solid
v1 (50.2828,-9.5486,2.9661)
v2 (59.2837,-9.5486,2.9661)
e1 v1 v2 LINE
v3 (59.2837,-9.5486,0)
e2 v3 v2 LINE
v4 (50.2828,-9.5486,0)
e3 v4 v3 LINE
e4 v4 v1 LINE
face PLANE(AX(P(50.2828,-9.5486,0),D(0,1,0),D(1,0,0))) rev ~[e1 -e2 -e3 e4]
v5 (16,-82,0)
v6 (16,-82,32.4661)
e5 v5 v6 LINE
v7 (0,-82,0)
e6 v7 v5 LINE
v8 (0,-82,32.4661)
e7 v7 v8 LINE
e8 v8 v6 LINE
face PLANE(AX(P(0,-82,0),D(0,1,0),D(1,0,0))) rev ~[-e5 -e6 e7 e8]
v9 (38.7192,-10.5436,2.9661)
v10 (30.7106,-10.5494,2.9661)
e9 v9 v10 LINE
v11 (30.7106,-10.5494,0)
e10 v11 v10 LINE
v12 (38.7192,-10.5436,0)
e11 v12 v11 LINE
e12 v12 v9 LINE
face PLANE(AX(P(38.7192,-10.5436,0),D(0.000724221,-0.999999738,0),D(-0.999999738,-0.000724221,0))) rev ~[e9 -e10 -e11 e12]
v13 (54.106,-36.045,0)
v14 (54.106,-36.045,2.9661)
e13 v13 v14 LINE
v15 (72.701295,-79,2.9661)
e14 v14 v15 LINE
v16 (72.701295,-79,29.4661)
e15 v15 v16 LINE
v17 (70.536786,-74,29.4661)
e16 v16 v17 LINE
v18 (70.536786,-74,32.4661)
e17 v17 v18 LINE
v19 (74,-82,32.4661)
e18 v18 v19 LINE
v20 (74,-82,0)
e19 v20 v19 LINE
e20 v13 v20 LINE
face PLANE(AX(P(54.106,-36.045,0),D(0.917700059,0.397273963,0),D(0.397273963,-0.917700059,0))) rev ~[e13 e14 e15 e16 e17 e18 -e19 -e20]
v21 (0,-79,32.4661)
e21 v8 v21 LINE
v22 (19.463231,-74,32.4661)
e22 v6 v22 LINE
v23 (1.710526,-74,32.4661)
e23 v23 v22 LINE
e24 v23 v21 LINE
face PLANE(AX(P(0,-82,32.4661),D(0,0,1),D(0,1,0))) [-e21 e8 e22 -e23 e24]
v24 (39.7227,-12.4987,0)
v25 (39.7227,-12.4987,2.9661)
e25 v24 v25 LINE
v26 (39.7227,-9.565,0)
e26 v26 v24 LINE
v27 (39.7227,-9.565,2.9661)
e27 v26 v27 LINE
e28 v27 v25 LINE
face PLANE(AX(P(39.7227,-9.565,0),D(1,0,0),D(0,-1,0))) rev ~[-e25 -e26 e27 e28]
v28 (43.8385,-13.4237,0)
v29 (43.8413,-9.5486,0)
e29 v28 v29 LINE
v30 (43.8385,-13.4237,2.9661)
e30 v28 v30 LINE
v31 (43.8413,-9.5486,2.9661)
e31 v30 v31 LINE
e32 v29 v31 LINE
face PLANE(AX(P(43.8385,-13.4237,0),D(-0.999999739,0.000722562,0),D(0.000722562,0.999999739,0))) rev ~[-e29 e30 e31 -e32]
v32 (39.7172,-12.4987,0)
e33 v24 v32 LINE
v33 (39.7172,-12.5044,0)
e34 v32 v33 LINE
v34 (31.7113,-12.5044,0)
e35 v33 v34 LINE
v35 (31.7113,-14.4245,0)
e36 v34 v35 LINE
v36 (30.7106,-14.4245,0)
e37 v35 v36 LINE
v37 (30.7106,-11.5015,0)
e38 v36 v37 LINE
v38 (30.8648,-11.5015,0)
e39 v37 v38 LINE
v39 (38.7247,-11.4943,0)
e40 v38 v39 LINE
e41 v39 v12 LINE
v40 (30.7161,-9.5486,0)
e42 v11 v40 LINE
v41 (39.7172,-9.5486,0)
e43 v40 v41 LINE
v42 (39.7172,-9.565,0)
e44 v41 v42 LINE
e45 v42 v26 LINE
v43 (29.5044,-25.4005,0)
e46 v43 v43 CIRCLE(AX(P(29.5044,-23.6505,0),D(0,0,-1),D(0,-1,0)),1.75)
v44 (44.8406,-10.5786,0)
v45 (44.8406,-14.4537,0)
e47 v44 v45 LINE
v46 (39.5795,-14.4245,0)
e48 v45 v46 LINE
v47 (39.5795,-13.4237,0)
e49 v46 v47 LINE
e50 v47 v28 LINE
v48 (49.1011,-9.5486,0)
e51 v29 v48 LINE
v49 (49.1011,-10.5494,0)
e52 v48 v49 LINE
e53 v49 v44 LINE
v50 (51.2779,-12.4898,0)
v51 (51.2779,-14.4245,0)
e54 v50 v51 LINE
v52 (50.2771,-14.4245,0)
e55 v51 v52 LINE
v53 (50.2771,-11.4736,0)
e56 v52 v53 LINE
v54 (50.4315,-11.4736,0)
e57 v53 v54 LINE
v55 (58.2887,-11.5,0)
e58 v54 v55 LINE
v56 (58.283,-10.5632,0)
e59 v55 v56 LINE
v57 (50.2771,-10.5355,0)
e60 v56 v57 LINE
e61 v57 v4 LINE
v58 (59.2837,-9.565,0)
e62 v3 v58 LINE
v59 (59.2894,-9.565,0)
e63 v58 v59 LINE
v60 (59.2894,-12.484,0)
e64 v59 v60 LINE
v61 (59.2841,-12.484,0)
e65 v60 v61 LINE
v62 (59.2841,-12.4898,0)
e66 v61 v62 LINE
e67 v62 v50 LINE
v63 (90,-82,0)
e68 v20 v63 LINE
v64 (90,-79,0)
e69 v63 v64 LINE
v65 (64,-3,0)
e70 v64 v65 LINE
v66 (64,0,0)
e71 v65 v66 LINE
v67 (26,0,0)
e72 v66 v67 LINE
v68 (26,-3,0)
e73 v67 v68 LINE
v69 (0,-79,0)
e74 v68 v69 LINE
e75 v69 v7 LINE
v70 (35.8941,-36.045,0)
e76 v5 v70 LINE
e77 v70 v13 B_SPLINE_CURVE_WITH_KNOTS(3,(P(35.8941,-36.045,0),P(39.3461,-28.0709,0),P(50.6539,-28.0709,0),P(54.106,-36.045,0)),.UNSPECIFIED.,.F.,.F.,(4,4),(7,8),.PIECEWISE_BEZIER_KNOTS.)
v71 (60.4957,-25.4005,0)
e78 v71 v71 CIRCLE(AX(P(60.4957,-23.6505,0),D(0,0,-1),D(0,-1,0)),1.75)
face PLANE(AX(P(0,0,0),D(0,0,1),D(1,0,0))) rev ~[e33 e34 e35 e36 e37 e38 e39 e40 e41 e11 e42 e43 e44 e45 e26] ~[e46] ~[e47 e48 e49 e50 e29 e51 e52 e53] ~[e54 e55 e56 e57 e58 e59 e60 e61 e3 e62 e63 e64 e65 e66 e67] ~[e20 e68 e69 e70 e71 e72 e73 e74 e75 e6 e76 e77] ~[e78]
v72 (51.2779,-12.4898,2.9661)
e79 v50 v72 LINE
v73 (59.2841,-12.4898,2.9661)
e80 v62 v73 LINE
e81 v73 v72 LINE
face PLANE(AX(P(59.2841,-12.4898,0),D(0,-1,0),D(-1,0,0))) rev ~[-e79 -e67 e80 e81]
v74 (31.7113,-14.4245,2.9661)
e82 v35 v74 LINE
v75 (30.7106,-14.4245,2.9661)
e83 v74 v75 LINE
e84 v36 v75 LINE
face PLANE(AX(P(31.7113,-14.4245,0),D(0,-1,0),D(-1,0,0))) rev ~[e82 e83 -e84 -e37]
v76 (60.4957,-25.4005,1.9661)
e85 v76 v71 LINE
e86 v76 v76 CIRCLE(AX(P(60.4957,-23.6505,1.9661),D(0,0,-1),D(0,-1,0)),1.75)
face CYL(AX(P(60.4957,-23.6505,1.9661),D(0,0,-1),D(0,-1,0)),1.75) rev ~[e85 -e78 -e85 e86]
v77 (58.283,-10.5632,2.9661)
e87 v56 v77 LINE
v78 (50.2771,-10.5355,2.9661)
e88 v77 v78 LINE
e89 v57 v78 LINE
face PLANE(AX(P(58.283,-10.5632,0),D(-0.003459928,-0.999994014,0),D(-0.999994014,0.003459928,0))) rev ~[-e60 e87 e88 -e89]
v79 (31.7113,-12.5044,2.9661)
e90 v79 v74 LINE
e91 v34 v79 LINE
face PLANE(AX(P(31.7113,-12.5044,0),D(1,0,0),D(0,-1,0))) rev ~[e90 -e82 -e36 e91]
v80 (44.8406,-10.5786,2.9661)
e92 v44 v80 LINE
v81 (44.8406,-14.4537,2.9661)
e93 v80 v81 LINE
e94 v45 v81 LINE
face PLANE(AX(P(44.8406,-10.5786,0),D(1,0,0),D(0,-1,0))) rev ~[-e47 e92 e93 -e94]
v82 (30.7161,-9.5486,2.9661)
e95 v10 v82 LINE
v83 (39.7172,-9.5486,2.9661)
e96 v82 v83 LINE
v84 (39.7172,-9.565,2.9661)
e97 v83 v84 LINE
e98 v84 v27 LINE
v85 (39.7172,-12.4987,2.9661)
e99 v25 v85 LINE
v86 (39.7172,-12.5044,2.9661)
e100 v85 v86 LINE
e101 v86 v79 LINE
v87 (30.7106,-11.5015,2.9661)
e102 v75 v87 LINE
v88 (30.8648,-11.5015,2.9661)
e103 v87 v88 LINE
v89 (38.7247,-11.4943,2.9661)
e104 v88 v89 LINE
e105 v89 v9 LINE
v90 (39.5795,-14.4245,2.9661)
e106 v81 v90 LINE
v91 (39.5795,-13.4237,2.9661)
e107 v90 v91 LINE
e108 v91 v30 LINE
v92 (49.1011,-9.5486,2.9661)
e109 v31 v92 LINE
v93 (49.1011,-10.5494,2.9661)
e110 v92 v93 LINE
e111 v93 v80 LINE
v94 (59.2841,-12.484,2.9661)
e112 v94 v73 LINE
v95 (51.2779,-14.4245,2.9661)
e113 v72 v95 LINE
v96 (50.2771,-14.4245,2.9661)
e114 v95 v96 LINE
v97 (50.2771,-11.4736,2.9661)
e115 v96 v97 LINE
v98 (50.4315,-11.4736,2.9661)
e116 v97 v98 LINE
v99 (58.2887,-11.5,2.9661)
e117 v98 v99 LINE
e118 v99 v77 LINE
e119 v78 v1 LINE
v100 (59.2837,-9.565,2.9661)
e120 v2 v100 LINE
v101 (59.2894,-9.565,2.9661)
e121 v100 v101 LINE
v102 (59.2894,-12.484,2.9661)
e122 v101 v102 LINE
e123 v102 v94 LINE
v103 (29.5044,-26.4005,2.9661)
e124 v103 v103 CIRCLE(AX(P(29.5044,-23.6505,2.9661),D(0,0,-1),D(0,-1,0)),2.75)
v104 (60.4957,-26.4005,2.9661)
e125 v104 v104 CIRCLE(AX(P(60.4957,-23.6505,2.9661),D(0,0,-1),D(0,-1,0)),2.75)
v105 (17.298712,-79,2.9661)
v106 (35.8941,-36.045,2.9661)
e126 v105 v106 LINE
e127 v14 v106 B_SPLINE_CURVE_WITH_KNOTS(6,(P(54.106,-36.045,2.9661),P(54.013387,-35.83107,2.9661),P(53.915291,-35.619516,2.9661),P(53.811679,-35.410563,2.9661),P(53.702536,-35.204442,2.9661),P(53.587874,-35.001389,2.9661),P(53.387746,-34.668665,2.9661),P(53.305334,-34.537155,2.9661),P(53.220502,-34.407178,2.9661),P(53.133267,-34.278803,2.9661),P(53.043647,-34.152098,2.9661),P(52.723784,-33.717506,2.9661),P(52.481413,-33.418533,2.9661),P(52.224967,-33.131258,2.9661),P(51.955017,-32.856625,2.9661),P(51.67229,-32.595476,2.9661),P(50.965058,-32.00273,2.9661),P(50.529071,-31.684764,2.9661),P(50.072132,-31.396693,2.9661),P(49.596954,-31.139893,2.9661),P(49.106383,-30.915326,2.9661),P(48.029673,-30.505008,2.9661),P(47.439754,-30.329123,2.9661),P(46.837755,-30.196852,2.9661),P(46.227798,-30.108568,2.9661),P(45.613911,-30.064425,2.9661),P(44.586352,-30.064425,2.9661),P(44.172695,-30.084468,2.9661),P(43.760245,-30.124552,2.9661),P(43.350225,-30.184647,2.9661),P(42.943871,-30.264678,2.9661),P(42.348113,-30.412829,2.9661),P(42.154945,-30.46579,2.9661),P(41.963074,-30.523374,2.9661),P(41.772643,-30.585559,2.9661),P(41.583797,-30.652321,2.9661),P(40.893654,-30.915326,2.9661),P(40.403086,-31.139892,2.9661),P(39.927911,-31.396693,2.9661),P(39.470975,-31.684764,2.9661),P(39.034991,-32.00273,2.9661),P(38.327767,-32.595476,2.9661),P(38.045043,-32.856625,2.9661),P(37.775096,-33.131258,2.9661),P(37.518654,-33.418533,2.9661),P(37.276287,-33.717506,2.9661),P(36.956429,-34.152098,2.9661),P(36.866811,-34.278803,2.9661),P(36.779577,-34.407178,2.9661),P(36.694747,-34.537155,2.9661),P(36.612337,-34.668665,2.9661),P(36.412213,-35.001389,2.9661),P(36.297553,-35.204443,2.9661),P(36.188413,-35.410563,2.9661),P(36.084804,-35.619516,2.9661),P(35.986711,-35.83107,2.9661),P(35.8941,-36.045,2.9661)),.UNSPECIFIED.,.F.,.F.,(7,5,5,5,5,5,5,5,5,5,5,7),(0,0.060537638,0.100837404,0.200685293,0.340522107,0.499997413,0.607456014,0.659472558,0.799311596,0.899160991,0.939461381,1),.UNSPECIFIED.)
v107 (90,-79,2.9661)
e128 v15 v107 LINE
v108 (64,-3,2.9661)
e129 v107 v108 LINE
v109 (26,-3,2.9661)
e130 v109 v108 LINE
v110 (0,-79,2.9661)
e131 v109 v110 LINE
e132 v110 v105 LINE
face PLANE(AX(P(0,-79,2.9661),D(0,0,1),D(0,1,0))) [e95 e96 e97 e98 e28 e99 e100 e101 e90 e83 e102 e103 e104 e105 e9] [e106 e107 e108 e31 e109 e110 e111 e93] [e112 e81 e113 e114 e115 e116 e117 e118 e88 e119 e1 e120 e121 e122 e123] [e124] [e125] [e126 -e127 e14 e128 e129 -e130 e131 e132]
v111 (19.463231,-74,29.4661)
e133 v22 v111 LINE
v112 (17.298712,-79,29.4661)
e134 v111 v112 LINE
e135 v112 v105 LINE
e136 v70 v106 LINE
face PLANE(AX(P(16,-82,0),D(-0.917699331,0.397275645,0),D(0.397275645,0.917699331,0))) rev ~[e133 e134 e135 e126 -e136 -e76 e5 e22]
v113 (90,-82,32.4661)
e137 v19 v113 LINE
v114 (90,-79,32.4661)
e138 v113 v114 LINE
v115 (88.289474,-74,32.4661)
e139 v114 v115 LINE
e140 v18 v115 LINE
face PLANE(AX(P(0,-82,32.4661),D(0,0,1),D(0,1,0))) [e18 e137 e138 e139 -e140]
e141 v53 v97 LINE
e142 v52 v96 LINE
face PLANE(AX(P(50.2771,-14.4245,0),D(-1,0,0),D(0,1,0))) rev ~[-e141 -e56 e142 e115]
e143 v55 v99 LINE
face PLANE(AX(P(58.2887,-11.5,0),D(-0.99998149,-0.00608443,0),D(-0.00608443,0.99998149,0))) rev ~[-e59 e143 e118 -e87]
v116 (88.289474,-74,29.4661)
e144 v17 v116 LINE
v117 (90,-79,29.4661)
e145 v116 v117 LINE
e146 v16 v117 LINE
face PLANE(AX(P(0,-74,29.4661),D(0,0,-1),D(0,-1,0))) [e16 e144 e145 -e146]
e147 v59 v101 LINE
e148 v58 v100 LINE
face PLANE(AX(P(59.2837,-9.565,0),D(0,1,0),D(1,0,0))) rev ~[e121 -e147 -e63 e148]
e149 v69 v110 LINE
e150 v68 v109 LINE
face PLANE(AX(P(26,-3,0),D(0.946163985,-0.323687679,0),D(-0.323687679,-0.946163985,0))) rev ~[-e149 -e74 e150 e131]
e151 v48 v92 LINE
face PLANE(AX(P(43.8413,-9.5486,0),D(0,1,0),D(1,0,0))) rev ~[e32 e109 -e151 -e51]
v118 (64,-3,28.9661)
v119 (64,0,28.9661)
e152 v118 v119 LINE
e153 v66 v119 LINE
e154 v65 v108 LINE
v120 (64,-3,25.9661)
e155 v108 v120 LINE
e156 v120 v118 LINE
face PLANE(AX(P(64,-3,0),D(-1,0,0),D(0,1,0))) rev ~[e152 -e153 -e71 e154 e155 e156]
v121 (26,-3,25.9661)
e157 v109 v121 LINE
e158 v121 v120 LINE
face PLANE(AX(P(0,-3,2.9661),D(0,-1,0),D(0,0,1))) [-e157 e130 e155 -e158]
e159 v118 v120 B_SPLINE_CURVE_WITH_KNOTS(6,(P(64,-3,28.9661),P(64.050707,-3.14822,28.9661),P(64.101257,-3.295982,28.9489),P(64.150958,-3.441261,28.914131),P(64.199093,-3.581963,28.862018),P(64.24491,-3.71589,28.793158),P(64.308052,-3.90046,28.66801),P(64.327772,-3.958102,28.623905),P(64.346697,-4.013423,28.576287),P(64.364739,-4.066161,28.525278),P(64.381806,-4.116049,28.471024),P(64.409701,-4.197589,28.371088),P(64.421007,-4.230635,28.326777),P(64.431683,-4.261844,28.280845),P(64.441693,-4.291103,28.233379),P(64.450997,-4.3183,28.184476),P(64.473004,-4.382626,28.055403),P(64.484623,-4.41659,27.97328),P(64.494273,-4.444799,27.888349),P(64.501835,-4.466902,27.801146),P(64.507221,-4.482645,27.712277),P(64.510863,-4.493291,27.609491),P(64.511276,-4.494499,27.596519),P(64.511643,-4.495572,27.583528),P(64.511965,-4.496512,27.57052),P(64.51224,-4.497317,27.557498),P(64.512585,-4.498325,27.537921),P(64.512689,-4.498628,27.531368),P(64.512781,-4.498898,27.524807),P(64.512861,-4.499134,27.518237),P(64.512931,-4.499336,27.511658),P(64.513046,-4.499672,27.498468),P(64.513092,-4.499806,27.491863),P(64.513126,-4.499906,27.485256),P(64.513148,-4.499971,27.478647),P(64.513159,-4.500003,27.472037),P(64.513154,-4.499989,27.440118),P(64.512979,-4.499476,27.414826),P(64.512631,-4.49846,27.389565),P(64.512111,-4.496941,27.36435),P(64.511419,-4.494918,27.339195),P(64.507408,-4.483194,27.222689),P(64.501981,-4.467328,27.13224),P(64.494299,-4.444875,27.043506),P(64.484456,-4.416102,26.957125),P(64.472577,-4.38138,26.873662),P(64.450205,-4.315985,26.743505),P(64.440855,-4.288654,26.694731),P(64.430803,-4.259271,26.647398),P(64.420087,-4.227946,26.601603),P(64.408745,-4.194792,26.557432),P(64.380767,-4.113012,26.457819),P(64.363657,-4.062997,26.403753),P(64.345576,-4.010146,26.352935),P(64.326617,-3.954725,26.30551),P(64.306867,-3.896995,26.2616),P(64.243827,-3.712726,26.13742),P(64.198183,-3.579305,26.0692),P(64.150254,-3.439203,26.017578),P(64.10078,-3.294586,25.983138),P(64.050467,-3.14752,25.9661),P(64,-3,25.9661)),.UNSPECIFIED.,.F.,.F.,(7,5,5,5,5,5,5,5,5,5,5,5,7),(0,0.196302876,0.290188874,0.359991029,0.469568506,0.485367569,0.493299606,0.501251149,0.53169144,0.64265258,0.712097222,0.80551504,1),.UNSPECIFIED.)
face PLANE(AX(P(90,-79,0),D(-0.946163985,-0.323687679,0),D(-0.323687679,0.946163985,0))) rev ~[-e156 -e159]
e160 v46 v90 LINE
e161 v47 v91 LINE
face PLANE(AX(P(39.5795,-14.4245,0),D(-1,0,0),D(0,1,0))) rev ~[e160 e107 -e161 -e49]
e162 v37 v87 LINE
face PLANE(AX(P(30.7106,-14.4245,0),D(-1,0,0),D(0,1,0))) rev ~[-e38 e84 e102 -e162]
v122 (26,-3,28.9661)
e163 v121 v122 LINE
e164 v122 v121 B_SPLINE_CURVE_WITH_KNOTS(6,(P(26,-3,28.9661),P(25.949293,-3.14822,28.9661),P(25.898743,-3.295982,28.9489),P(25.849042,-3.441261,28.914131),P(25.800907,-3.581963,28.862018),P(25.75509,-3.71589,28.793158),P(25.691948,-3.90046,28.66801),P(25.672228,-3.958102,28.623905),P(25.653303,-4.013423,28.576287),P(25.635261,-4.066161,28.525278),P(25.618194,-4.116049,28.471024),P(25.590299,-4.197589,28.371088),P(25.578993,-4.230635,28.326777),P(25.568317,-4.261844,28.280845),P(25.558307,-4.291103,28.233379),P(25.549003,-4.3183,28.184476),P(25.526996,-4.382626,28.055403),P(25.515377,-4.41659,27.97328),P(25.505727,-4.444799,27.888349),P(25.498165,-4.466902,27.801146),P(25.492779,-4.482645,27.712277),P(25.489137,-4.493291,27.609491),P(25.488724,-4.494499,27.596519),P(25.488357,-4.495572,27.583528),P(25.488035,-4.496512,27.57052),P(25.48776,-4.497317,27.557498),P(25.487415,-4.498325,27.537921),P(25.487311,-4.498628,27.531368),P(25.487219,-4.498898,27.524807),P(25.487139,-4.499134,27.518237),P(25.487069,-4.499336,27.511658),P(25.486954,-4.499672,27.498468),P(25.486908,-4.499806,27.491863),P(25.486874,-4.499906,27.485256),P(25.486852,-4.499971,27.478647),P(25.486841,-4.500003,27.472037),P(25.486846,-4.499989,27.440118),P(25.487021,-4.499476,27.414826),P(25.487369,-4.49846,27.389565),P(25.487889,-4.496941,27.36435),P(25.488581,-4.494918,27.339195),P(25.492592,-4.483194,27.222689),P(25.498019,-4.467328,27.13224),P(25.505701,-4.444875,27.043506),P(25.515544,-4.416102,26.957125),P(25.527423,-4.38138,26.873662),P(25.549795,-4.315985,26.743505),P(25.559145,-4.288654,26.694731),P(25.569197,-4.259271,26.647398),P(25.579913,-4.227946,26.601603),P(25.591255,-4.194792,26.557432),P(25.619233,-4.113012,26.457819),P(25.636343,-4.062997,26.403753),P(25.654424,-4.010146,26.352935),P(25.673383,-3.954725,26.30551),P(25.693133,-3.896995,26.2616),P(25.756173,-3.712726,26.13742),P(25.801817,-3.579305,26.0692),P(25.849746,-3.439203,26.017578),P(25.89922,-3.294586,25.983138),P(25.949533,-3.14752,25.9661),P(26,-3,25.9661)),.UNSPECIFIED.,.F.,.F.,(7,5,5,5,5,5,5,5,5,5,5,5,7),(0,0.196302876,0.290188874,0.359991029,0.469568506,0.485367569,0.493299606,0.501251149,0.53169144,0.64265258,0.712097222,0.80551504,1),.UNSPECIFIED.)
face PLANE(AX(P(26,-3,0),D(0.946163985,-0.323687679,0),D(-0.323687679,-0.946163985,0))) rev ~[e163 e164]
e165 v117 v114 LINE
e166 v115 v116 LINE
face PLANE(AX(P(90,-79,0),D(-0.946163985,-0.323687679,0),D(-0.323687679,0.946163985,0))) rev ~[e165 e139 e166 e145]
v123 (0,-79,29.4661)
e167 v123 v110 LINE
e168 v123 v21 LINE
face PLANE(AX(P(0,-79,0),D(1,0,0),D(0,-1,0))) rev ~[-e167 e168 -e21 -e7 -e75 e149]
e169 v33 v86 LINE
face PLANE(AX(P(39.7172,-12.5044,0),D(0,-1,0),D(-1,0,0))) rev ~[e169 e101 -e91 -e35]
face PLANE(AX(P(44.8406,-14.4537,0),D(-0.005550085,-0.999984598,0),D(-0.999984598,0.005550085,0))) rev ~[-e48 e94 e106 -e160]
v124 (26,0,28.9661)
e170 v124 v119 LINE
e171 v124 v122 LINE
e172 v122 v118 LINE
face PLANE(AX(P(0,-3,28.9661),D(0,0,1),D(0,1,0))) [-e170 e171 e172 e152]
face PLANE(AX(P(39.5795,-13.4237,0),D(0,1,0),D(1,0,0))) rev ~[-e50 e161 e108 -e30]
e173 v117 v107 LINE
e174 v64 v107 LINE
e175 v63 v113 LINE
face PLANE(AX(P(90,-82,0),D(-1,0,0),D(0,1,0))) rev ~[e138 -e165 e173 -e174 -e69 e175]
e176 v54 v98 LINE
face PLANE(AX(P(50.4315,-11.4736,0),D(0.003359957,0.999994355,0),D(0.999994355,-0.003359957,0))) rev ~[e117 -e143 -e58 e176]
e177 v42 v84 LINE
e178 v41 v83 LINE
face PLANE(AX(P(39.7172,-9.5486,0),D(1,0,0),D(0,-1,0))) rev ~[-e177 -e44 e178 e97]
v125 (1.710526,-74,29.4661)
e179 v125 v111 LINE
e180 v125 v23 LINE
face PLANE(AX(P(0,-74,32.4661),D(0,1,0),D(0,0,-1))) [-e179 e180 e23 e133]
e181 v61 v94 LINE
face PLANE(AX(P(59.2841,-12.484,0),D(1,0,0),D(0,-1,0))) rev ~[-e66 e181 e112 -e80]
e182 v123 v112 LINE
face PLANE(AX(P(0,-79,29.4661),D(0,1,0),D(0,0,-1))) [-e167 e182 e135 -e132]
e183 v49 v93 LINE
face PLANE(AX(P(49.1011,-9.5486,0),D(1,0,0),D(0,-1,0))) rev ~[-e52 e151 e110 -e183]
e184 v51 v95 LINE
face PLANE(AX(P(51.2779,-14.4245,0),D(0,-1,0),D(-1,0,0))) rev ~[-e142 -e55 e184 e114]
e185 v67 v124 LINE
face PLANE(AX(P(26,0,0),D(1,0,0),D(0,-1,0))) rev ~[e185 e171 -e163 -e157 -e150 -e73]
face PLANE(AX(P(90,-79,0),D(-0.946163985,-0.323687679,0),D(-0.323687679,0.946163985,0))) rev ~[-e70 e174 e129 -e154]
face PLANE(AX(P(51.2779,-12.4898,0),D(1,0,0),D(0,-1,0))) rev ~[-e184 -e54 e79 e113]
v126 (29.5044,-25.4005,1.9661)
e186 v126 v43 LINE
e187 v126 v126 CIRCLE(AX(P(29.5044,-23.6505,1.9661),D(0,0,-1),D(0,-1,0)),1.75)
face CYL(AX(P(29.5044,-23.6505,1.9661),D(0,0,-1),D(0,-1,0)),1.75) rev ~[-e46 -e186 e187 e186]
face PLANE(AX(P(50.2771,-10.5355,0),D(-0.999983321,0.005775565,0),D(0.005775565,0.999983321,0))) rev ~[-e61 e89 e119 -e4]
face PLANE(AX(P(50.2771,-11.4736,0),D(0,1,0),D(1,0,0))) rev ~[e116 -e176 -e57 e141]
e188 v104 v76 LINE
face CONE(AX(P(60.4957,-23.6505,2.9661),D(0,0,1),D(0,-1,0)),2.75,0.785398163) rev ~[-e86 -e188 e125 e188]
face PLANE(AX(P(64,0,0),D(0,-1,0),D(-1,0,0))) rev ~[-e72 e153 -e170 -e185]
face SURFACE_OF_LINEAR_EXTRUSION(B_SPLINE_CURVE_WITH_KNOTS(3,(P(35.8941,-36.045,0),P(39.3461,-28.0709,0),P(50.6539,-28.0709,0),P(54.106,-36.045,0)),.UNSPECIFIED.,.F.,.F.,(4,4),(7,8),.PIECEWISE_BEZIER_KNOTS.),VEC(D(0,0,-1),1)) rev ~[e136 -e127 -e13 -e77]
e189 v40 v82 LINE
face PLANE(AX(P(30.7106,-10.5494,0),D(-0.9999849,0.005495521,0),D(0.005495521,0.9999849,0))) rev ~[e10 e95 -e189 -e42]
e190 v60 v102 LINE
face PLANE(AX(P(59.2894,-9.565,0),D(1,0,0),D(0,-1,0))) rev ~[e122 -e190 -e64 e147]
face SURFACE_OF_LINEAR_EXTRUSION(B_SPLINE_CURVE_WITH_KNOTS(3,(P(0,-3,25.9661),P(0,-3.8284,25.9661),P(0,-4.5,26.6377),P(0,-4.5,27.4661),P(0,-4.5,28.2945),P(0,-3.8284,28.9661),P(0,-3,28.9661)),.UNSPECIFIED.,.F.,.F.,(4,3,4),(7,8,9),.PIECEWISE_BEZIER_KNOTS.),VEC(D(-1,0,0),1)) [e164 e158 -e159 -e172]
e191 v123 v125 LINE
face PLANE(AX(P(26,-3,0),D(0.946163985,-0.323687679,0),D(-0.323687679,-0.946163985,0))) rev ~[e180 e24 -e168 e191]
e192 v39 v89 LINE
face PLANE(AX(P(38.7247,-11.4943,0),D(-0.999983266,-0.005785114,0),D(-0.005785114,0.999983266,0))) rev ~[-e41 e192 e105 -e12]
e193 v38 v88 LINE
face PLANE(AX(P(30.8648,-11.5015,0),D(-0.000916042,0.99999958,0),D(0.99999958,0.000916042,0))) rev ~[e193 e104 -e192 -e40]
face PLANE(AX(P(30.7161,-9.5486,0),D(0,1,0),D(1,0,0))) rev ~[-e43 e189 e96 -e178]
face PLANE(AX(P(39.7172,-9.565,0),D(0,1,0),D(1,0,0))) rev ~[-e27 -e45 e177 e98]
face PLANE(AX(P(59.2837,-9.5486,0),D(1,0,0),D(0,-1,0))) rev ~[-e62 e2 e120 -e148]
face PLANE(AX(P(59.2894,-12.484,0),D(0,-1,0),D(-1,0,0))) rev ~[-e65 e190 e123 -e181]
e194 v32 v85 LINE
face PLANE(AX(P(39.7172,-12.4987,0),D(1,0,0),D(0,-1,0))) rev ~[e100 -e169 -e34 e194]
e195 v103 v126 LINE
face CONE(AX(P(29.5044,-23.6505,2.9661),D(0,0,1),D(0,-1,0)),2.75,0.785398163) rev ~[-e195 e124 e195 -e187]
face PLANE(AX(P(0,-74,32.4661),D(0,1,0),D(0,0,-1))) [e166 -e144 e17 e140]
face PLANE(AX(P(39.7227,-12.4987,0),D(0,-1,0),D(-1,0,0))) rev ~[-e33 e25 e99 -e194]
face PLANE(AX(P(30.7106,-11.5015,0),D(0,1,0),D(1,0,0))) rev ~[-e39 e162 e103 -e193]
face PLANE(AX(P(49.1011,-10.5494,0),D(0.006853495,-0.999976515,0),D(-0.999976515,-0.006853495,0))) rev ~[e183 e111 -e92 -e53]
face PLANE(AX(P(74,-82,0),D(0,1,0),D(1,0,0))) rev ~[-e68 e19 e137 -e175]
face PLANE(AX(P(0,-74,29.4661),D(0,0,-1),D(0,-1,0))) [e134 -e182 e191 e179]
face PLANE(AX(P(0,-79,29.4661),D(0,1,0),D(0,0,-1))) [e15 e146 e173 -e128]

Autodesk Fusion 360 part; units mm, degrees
sketch "Top" plane through (0, 0, 0) normal (0, 0, 1) x (1, 0, 0)
  line L0 (59.2894, -12.484) -> (59.2841, -12.484)
  line L1 (59.2841, -12.484) -> (59.2841, -12.4898)
  line L2 (59.2841, -12.4898) -> (51.2779, -12.4898)
  line L3 (51.2779, -12.4898) -> (51.2779, -14.4245)
  line L4 (51.2779, -14.4245) -> (50.2771, -14.4245)
  line L5 (50.2771, -14.4245) -> (50.2771, -11.4736)
  line L6 (50.2771, -11.4736) -> (50.4315, -11.4736)
  line L7 (50.4315, -11.4736) -> (50.4315, -11.4723)
  line L8 (50.4315, -11.4723) -> (58.2887, -11.5)
  line L9 (58.2887, -11.5) -> (58.283, -10.5632)
  line L10 (58.283, -10.5632) -> (50.2771, -10.5355)
  line L11 (50.2771, -10.5355) -> (50.2828, -9.5486)
  line L12 (50.2828, -9.5486) -> (59.2837, -9.5486)
  line L13 (59.2837, -9.5486) -> (59.2837, -9.565)
  line L14 (59.2837, -9.565) -> (59.2894, -9.565)
  line L15 (59.2894, -9.565) -> (59.2894, -12.484)
  line L16 (49.1011, -10.5494) -> (44.8406, -10.5786)
  line L17 (44.8406, -10.5786) -> (44.8406, -14.4537)
  line L18 (44.8406, -14.4537) -> (39.5795, -14.4245)
  line L19 (39.5795, -14.4245) -> (39.5795, -13.4237)
  line L20 (39.5795, -13.4237) -> (43.8385, -13.4237)
  line L21 (43.8385, -13.4237) -> (43.8413, -9.5486)
  line L22 (43.8413, -9.5486) -> (49.1011, -9.5486)
  line L23 (49.1011, -9.5486) -> (49.1011, -10.5494)
  line L24 (31.7113, -12.5044) -> (31.7113, -14.4245)
  line L25 (31.7113, -14.4245) -> (30.7106, -14.4245)
  line L26 (30.7106, -14.4245) -> (30.7106, -11.5015)
  line L27 (30.7106, -11.5015) -> (30.8648, -11.5015)
  line L28 (30.8648, -11.5015) -> (30.8648, -11.5001)
  line L29 (30.8648, -11.5001) -> (38.7247, -11.4943)
  line L30 (38.7247, -11.4943) -> (38.7192, -10.5436)
  line L31 (38.7192, -10.5436) -> (30.7106, -10.5494)
  line L32 (30.7106, -10.5494) -> (30.7161, -9.5486)
  line L33 (30.7161, -9.5486) -> (39.7172, -9.5486)
  line L34 (39.7172, -9.5486) -> (39.7172, -9.565)
  line L35 (39.7172, -9.565) -> (39.7227, -9.565)
  line L36 (39.7227, -9.565) -> (39.7227, -12.4987)
  line L37 (39.7227, -12.4987) -> (39.7172, -12.4987)
  line L38 (39.7172, -12.4987) -> (39.7172, -12.5044)
  line L39 (39.7172, -12.5044) -> (31.7113, -12.5044)
  line L40 (64, -3) -> (64, 0)
  line L41 (64, 0) -> (26, 0)
  line L42 (26, 0) -> (26, -3)
  line L43 (26, -3) -> (0, -79)
  line L44 (0, -79) -> (0, -82)
  line L45 (0, -82) -> (16, -82)
  line L46 (16, -82) -> (35.8941, -36.045)
  spline S0 degree 3 poles (35.8941, -36.045) (39.3461, -28.0709) (50.6539, -28.0709) (54.106, -36.045) knots 7 7 7 7 8 8 8 8
  line L47 (54.106, -36.045) -> (74, -82)
  line L48 (74, -82) -> (90, -82)
  line L49 (90, -82) -> (90, -79)
  line L50 (90, -79) -> (64, -3)
extrude "Extrude1" add sketch "Top" along normal blind 32.47
sketch "Side" plane through (0, 0, 0) normal (1, 0, 0) x (0, 1, 0)
  line L0 (-82, 37.505) -> (-82, 32.4661)
  line L1 (-82, 32.4661) -> (-74, 32.4661)
  line L2 (-74, 32.4661) -> (-74, 29.4661)
  line L3 (-74, 29.4661) -> (-79, 29.4661)
  line L4 (-79, 29.4661) -> (-79, 2.9661)
  line L5 (-79, 2.9661) -> (-3, 2.9661)
  line L6 (-3, 2.9661) -> (-3, 25.9661)
  spline S0 degree 3 poles (-3, 25.9661) (-3.8284, 25.9661) (-4.5, 26.6377) (-4.5, 27.4661) (-4.5, 28.2945) (-3.8284, 28.9661) (-3, 28.9661) knots 7 7 7 7 8 8 8 9 9 9 9
  line L7 (-3, 28.9661) -> (0, 28.9661)
  line L8 (0, 28.9661) -> (0, 37.505)
  line L9 (0, 37.505) -> (-82, 37.505)
extrude "Extrude2" cut sketch "Side" along normal blind 90
hole "Hole1" at (29.5044, -23.6505, 2.9661) direction (0, 0, -1) diameter 3.5 depth 3 tip angle 118 countersink diameter 5.5 countersink angle 90
hole "Hole2" at (60.4957, -23.6505, 2.9661) direction (0, 0, -1) diameter 3.5 depth 3 tip angle 118 countersink diameter 5.5 countersink angle 90
